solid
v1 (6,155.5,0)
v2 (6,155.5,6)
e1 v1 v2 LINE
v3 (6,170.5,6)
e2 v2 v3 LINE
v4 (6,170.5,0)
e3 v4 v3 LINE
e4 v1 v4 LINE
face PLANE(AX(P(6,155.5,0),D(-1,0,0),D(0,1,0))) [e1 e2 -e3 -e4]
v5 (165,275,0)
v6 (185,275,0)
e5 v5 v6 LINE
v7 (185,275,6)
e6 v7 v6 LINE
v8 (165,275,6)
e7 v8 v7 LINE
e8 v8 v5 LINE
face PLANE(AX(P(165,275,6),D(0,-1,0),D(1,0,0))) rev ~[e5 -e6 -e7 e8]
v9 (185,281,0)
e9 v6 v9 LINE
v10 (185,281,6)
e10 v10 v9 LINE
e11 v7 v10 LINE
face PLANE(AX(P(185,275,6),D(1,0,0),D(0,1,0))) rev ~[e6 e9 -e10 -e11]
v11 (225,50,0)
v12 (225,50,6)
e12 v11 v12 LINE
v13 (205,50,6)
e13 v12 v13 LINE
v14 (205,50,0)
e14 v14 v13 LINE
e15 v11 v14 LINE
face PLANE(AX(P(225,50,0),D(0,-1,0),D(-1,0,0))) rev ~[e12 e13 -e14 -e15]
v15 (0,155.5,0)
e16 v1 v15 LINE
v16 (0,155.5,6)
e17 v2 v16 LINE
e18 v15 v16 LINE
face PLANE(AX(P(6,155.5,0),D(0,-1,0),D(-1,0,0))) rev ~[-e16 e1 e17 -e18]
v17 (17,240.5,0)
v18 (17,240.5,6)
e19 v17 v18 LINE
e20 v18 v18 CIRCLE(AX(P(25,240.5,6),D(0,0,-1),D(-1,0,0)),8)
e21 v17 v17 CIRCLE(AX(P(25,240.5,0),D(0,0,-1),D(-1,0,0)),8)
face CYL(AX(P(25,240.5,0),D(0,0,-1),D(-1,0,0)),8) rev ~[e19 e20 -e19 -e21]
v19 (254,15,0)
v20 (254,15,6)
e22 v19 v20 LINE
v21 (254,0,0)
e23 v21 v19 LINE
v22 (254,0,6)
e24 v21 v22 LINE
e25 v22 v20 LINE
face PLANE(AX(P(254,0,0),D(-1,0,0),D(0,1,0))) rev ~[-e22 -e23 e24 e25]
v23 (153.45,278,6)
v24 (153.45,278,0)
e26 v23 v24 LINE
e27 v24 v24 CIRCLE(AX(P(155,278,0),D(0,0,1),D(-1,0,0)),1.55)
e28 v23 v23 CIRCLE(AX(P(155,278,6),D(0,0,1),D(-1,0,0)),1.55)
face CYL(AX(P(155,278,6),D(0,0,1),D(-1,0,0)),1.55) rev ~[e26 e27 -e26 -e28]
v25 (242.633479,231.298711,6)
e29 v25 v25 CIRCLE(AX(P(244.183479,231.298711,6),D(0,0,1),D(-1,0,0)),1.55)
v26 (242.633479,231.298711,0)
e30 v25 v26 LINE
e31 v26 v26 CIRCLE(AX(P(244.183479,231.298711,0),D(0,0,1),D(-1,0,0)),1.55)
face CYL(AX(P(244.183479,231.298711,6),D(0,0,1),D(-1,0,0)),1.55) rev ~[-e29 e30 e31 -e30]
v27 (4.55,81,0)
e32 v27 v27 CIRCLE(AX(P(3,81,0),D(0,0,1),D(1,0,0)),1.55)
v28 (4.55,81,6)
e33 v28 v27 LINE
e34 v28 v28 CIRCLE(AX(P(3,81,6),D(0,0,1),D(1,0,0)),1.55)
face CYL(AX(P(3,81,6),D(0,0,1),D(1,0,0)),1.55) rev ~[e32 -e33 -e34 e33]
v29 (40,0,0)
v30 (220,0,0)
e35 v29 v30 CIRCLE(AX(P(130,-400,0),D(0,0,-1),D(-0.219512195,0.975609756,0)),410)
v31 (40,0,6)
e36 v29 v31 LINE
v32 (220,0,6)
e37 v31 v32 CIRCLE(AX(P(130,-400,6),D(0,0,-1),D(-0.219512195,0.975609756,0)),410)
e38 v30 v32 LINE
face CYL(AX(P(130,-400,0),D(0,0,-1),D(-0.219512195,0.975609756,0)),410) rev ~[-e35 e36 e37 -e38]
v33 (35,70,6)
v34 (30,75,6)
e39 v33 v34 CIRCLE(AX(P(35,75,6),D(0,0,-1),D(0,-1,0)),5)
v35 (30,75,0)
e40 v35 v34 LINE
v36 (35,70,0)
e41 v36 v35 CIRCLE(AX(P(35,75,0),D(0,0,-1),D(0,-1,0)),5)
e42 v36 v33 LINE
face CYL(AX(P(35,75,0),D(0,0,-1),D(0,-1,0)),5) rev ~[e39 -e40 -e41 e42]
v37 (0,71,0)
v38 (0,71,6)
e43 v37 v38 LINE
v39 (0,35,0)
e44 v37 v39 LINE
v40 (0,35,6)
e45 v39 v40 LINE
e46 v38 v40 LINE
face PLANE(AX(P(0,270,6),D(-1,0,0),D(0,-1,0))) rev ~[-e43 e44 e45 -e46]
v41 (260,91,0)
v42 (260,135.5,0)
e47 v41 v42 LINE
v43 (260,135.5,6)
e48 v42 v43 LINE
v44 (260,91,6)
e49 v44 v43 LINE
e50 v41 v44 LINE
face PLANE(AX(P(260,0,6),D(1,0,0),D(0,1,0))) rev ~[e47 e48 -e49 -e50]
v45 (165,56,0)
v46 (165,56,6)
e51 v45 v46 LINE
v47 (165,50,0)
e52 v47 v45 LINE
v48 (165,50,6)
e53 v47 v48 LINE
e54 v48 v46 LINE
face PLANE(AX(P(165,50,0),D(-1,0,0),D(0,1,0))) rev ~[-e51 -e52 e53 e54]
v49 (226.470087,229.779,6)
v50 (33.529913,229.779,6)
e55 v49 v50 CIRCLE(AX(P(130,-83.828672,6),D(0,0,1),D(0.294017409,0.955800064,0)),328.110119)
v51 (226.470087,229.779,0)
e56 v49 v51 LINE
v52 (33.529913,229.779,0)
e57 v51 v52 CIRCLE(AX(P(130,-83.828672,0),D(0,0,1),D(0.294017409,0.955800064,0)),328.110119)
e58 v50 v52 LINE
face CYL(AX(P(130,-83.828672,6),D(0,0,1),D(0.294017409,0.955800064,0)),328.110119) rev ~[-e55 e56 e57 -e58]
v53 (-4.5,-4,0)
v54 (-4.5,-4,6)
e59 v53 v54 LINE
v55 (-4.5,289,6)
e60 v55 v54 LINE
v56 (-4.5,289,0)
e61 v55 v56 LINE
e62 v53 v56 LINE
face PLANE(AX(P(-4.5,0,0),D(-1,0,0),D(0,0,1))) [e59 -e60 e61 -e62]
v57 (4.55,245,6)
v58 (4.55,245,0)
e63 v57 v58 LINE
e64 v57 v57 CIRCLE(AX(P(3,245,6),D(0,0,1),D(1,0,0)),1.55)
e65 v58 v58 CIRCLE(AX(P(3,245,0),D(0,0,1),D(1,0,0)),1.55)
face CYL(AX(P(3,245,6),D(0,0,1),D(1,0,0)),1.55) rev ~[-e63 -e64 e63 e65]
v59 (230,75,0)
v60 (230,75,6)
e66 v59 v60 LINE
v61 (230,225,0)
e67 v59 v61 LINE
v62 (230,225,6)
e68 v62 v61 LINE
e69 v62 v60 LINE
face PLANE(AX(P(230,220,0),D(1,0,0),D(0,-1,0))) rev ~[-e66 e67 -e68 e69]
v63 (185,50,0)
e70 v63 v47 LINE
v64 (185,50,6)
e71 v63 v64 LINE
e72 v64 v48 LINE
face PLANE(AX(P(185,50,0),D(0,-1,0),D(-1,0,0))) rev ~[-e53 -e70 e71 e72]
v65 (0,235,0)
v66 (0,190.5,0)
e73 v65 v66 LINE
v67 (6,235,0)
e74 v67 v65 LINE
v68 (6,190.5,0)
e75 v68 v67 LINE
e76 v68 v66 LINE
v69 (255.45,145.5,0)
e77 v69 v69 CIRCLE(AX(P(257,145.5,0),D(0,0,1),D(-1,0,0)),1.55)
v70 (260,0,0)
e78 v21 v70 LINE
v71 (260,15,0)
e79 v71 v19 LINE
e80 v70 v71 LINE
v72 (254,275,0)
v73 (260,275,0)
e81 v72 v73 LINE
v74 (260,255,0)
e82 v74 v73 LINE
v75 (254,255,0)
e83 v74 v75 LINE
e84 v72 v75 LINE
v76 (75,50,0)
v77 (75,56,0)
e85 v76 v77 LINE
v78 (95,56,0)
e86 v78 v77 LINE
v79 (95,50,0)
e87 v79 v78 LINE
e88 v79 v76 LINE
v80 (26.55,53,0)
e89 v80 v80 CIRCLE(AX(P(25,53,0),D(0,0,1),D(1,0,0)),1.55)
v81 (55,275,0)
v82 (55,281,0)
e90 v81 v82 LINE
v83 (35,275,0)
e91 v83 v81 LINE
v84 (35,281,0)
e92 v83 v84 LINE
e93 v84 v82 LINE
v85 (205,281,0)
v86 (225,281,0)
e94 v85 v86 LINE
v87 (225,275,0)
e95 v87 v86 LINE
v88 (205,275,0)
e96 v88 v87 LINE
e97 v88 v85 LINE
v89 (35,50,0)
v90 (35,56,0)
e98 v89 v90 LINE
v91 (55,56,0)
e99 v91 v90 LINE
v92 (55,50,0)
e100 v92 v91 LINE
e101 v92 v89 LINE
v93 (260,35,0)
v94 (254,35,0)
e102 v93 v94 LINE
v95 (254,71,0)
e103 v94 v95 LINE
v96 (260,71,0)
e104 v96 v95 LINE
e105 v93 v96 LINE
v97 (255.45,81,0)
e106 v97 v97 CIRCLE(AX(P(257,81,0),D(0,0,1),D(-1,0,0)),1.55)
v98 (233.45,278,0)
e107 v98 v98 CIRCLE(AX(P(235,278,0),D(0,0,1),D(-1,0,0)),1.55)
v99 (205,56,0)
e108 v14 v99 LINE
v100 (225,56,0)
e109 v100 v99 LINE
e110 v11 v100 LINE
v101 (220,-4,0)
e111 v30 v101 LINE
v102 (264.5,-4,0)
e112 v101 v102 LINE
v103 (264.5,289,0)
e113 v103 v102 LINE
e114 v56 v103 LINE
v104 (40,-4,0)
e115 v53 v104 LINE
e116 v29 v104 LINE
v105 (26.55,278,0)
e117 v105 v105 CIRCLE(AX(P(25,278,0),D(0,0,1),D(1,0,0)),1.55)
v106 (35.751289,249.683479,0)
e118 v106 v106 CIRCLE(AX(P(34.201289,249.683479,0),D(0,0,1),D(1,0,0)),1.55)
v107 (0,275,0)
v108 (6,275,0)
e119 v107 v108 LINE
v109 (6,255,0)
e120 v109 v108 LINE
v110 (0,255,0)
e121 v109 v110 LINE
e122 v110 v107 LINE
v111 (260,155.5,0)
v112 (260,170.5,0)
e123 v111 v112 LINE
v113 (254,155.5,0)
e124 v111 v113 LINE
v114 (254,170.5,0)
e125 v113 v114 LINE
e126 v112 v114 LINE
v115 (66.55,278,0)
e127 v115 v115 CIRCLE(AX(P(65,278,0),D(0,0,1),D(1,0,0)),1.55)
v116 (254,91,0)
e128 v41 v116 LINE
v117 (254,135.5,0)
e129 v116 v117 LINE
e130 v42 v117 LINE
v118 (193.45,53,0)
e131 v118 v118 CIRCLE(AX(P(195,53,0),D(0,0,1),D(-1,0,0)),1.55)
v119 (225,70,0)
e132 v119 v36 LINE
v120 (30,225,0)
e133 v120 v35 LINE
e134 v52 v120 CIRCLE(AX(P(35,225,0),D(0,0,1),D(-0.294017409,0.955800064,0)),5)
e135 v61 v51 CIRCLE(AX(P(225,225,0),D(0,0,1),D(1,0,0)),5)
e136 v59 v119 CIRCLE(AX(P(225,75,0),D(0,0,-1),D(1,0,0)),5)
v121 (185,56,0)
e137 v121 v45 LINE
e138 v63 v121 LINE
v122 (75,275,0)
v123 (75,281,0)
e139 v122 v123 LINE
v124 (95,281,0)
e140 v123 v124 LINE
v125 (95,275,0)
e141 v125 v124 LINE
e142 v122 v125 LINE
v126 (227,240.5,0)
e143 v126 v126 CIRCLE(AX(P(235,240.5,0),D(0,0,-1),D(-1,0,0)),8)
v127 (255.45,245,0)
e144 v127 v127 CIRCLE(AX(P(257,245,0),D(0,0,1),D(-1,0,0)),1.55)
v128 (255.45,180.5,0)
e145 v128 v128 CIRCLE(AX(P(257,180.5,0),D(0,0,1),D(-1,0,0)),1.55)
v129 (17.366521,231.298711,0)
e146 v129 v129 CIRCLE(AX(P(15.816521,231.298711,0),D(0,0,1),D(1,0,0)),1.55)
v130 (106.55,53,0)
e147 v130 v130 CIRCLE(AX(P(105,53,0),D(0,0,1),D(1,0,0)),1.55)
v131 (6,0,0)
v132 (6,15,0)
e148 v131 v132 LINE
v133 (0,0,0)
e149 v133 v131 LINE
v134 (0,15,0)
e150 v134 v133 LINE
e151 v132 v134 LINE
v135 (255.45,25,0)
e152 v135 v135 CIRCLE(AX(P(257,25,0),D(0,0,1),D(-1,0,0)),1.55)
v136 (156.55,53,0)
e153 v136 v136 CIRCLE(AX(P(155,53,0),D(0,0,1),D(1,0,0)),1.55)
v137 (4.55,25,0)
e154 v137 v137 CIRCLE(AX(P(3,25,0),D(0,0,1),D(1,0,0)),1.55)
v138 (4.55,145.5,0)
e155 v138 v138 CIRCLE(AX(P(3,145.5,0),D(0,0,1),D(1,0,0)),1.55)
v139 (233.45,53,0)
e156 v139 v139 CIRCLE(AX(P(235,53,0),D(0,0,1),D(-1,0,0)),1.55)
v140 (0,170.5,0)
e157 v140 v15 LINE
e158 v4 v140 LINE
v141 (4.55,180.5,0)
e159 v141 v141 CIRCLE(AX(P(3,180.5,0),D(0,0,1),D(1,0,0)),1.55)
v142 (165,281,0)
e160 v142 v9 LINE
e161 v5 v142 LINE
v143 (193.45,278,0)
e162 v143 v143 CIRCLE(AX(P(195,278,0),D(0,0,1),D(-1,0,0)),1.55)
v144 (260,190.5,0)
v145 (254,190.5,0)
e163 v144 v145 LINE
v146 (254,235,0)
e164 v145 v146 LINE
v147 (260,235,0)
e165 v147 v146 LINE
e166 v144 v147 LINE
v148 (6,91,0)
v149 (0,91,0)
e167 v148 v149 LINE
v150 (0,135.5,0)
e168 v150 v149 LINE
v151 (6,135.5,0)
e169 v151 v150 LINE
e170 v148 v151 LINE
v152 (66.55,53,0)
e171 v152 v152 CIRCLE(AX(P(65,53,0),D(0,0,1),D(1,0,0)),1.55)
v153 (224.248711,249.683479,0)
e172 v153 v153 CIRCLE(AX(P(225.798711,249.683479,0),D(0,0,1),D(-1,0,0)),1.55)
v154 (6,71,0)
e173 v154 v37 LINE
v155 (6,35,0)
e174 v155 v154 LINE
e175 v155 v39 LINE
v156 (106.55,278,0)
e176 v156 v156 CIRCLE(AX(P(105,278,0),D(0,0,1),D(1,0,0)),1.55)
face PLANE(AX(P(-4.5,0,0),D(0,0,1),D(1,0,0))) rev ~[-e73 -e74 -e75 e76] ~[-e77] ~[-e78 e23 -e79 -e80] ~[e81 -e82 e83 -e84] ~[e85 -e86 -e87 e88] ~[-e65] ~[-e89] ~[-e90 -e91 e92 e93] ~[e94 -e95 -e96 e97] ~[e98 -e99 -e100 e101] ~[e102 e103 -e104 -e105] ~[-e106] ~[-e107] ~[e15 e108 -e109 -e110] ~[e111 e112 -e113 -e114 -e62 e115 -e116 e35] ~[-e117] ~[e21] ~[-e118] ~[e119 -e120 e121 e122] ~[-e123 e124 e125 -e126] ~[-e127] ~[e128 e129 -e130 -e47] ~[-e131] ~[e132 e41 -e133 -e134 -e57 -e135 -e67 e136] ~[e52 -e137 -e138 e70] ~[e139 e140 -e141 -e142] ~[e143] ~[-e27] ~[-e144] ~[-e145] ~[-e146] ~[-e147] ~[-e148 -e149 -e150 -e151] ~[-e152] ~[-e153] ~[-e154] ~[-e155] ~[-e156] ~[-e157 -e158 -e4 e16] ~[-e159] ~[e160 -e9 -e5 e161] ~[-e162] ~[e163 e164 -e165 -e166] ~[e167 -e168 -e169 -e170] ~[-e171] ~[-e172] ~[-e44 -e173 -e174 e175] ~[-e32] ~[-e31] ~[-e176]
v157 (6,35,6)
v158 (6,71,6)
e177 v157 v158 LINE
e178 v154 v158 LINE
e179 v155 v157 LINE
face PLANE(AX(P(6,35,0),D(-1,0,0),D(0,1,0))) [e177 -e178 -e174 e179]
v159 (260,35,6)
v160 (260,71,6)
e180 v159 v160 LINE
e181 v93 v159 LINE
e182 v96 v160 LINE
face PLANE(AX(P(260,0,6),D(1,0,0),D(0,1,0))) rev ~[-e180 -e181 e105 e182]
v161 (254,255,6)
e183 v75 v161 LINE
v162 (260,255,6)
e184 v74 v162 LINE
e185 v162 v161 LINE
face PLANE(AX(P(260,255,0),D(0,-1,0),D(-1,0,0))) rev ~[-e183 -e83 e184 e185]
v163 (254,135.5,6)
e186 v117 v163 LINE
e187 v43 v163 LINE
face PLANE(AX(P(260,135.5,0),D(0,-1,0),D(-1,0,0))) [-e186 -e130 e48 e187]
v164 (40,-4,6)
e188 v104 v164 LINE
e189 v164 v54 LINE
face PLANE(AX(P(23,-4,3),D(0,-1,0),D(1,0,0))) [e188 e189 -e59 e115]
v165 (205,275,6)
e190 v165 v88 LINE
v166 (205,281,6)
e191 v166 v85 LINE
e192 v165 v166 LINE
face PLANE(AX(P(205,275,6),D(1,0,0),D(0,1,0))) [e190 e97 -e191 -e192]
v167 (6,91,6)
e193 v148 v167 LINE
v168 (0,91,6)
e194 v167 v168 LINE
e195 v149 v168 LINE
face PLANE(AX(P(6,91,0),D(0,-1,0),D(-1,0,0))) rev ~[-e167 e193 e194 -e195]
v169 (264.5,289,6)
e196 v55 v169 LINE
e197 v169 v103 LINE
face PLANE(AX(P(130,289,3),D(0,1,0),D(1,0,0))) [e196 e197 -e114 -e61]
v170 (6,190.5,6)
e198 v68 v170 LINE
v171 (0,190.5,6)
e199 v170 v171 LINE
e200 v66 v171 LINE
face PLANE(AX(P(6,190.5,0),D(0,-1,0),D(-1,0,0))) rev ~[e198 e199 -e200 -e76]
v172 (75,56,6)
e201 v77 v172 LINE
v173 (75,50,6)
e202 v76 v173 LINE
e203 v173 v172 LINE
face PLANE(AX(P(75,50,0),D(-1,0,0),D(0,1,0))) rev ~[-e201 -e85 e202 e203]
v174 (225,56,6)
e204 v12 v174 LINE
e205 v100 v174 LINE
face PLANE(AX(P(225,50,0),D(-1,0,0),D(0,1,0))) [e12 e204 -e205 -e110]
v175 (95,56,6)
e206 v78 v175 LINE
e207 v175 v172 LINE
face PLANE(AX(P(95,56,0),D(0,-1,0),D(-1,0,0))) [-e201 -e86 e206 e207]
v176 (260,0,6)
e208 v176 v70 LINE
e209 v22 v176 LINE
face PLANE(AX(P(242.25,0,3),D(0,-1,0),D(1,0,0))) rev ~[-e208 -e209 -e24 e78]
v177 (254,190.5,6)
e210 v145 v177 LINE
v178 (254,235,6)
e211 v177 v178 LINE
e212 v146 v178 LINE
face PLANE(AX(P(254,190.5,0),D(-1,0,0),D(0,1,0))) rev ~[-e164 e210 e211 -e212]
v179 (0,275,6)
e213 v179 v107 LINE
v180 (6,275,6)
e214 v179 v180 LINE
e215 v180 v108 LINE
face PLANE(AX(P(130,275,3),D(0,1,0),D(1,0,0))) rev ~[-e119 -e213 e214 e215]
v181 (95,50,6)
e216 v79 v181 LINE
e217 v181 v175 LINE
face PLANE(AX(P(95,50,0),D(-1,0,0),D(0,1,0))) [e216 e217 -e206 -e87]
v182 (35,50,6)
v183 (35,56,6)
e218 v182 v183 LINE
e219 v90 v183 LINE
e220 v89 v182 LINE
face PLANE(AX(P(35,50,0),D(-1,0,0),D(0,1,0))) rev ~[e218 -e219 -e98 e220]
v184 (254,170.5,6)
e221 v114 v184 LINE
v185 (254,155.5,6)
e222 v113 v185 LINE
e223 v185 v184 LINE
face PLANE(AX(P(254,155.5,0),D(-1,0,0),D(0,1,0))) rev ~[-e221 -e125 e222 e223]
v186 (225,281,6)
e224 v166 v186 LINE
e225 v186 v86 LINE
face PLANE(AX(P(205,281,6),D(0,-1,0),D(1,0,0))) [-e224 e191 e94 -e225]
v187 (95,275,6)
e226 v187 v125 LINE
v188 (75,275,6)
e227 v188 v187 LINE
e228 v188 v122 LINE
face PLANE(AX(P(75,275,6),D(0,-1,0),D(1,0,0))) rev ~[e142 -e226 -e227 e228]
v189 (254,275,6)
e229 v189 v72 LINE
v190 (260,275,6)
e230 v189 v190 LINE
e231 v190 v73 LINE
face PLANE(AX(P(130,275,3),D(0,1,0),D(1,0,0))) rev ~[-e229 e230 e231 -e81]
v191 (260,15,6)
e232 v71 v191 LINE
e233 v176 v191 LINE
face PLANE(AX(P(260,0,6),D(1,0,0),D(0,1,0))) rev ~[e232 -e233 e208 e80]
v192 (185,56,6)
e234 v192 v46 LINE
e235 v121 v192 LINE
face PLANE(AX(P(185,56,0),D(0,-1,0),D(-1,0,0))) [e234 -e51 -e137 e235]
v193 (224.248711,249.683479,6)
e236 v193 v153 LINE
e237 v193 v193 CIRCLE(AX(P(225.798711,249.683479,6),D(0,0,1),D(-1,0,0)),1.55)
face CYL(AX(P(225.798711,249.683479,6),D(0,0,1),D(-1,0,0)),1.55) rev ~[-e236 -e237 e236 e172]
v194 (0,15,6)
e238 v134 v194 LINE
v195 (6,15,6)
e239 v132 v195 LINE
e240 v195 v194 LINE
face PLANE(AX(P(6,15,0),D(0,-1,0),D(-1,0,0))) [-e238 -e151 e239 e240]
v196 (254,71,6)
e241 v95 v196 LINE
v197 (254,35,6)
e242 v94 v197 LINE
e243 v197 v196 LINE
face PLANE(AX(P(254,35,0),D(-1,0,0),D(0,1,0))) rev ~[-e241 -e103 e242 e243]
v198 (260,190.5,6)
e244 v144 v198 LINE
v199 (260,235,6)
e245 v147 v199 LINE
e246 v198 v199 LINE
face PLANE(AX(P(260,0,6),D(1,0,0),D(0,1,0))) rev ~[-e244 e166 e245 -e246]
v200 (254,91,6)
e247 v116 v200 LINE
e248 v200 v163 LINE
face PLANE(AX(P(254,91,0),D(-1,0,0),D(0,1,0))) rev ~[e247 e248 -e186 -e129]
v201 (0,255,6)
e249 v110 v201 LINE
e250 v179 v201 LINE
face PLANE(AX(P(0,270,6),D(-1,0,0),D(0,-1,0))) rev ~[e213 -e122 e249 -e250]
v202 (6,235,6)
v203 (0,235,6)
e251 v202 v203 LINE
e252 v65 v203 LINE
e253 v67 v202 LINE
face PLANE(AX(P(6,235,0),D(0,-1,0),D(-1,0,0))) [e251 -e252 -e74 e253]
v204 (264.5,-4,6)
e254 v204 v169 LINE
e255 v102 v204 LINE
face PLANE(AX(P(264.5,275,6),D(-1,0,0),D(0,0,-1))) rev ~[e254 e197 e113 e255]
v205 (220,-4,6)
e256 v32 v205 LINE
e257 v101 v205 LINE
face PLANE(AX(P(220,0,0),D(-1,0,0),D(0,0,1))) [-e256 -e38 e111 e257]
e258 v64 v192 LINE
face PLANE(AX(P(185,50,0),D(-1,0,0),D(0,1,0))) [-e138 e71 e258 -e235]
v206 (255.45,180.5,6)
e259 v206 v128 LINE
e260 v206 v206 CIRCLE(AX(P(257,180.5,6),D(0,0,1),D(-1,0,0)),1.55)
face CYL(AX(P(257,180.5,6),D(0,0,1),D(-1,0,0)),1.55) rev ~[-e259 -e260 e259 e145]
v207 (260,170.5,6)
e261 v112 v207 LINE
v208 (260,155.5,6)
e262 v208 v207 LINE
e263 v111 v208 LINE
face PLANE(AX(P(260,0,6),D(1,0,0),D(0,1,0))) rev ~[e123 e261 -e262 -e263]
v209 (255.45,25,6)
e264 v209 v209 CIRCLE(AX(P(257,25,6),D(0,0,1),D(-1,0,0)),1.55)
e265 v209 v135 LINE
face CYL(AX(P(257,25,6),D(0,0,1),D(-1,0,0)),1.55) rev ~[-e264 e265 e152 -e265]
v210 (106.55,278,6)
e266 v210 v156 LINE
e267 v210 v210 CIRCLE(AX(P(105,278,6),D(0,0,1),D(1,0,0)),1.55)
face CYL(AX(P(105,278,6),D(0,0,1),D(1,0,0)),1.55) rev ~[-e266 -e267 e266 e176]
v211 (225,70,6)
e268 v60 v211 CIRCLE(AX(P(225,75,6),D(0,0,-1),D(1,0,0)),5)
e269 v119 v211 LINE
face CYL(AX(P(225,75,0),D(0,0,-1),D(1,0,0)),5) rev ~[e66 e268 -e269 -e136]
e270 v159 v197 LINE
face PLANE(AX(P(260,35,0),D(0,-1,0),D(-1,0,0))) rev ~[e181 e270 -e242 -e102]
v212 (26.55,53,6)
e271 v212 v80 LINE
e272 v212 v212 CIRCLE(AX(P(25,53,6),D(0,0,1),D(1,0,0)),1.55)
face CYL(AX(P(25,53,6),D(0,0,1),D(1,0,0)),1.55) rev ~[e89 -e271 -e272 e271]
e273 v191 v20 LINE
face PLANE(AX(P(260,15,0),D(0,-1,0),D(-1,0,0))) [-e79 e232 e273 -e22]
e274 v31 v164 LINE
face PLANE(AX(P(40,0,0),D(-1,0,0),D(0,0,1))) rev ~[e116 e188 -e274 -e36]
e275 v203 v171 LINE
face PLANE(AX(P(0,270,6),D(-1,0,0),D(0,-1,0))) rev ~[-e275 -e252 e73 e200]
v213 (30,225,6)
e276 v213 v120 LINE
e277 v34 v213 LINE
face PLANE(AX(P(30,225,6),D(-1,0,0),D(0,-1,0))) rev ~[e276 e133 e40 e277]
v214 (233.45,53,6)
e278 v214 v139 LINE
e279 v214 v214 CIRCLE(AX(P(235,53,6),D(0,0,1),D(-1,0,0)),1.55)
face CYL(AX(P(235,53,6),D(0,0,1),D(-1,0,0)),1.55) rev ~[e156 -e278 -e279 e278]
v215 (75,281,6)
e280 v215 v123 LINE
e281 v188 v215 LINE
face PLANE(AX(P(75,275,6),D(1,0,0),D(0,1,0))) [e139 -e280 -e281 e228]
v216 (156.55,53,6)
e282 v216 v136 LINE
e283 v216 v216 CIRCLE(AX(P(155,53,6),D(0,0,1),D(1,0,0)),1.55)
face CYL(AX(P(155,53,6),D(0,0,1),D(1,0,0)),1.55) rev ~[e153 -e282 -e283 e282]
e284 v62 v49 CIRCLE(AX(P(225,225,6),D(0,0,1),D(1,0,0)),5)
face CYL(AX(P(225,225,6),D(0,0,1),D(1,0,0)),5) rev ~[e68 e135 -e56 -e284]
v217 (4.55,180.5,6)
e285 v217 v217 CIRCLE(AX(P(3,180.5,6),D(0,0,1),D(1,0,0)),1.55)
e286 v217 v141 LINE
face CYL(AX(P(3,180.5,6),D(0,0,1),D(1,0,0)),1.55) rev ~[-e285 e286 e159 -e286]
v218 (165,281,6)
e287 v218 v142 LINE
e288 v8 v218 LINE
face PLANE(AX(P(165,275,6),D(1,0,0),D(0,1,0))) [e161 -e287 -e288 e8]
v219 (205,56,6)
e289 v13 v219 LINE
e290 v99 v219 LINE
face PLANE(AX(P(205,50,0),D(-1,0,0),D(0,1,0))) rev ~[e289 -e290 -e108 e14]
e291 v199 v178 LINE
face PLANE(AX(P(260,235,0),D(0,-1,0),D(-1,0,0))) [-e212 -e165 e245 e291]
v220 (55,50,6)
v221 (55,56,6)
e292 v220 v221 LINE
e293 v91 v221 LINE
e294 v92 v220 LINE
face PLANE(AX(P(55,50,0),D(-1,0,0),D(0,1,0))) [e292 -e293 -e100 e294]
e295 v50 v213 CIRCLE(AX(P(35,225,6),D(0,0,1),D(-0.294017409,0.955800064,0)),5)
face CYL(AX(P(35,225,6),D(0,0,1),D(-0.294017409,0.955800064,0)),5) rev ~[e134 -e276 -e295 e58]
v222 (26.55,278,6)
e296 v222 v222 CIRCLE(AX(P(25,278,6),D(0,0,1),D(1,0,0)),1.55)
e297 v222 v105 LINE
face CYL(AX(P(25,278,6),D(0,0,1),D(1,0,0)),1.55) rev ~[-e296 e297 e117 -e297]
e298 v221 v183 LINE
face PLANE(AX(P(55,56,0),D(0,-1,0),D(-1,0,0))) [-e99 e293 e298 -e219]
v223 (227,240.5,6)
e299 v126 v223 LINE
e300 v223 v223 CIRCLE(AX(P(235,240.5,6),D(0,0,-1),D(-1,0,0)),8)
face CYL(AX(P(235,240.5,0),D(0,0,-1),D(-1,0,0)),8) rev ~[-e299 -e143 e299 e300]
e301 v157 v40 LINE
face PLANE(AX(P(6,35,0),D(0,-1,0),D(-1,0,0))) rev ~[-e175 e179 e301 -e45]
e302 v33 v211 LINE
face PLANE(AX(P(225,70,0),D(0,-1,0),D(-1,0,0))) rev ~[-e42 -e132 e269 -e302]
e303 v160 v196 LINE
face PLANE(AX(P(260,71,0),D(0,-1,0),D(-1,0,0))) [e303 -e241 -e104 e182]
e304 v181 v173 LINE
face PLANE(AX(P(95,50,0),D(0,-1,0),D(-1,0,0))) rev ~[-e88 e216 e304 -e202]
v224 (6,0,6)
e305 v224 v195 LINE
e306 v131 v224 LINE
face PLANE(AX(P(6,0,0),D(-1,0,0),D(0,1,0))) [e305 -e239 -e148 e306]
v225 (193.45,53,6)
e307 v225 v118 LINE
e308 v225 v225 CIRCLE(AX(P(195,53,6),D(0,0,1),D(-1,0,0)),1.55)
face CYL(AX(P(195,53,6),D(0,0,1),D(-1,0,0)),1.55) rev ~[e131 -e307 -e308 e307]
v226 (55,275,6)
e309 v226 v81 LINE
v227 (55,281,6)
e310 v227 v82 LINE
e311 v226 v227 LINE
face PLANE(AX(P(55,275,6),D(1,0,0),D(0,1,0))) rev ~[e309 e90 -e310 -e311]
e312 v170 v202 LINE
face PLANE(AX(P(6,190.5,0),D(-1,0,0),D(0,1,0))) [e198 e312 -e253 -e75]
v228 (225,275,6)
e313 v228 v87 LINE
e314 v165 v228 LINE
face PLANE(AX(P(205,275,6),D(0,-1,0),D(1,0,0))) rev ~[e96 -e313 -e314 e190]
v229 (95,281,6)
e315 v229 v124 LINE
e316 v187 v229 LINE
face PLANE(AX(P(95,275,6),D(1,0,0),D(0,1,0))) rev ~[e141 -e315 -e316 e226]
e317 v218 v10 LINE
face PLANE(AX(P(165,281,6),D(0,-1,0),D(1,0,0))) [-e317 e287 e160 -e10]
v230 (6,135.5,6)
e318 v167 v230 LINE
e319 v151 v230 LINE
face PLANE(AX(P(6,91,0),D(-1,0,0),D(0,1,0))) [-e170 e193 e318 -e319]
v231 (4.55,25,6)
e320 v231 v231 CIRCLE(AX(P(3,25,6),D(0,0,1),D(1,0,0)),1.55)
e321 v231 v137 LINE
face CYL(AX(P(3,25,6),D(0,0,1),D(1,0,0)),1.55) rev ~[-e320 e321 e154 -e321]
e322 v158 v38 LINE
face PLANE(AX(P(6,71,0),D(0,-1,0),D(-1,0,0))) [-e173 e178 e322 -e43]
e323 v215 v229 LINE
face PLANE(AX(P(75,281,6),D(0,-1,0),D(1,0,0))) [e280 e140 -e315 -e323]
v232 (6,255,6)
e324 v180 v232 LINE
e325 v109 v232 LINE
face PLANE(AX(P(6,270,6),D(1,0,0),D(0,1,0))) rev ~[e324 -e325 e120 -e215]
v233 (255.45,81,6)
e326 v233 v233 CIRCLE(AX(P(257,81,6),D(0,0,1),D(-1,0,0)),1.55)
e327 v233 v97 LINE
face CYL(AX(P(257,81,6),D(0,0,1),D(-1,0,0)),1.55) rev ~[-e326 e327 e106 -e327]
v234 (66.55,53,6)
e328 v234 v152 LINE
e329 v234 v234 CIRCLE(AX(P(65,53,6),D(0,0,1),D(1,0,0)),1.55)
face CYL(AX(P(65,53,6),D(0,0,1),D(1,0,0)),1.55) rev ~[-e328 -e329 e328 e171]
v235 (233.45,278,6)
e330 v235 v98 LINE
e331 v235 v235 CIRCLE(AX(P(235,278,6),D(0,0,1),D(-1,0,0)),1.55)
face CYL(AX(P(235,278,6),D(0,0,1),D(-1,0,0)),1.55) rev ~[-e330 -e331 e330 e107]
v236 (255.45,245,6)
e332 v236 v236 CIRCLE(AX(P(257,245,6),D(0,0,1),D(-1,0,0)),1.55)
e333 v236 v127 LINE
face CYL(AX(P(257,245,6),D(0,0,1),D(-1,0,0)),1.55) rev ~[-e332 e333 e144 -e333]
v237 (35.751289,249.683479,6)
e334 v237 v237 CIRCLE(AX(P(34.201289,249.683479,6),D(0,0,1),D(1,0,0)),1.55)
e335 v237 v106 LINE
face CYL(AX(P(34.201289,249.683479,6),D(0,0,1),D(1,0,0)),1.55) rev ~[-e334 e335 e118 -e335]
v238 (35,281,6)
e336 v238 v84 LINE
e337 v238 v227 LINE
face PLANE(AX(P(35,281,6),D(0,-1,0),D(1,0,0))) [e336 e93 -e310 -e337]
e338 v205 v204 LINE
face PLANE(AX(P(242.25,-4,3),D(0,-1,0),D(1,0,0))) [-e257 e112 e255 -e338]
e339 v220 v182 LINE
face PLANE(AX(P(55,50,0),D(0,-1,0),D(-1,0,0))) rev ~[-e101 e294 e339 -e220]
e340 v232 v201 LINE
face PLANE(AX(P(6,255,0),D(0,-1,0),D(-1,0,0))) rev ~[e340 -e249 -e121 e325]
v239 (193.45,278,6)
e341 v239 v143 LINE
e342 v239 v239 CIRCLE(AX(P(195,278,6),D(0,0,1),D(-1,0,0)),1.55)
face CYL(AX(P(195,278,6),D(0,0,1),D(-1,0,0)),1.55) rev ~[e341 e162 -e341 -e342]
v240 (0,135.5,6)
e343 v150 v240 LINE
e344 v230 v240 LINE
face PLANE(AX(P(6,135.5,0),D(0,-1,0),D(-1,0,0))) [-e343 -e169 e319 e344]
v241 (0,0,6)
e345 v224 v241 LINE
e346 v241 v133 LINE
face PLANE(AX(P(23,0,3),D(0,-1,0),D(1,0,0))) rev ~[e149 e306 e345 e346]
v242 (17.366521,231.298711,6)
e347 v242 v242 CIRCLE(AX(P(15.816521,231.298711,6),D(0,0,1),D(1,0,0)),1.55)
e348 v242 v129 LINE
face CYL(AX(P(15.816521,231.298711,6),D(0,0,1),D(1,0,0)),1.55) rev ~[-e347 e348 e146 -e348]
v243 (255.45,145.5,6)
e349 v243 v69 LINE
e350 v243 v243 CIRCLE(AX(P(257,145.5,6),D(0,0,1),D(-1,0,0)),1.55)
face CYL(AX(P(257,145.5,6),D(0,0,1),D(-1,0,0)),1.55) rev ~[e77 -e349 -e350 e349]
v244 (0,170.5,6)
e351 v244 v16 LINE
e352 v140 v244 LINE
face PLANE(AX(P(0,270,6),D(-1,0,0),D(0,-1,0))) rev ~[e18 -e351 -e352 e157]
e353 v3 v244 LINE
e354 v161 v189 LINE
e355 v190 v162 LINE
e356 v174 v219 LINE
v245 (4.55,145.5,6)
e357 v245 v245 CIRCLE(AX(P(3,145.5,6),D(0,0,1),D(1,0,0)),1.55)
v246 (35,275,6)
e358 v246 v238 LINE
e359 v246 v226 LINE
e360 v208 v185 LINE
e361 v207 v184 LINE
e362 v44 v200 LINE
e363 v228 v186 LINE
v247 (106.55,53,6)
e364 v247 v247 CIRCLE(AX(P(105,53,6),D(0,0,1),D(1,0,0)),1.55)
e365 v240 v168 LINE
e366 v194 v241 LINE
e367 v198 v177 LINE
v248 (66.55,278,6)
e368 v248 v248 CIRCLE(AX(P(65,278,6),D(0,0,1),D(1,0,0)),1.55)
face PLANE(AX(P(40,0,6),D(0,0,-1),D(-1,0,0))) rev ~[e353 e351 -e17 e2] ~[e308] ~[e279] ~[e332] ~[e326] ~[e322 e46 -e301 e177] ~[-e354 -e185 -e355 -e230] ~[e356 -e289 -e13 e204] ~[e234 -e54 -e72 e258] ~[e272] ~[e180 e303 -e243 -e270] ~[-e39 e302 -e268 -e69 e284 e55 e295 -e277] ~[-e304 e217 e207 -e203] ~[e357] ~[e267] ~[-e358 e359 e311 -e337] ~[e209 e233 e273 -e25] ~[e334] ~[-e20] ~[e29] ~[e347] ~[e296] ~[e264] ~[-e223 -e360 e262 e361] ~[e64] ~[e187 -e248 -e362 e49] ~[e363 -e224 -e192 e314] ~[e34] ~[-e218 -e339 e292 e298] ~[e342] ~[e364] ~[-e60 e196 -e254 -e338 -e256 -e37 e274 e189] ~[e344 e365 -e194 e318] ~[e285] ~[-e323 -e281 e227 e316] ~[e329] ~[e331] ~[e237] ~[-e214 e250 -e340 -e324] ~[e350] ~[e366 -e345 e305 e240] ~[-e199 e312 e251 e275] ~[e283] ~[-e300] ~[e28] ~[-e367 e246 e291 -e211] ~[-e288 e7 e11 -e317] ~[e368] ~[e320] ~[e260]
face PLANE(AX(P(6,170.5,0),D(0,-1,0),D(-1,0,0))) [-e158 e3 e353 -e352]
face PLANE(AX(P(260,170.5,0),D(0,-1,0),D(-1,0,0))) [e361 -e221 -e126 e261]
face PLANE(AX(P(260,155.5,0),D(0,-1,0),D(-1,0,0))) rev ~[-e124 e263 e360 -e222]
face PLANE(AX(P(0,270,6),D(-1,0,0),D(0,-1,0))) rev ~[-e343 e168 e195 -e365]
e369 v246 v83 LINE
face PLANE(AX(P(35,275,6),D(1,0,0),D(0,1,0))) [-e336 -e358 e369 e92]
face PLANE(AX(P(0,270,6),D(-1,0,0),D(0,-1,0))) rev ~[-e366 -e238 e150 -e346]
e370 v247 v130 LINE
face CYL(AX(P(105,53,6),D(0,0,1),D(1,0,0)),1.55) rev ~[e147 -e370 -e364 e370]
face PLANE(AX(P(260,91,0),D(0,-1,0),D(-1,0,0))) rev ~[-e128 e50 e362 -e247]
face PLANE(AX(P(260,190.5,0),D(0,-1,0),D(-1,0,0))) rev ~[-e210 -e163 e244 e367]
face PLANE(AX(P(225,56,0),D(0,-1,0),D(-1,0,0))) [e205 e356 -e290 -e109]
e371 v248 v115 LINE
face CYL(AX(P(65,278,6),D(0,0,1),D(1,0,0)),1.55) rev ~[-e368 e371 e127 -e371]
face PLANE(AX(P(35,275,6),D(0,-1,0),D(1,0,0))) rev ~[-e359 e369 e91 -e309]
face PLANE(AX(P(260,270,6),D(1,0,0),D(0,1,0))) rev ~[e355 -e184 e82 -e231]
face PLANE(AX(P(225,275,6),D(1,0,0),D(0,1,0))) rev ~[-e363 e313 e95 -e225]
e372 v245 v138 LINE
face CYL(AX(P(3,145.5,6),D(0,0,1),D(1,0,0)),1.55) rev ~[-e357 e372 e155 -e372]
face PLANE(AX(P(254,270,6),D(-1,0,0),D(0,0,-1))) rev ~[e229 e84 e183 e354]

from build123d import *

# Parameters (mm, degrees)
SKETCH1_W           = 260
SKETCH1_H           = 270
BOSS_EXTRUDE1_DEPTH = 6
SKETCH2_W           = 20
SKETCH2_H           = 6
CUT_EXTRUDE1_DEPTH  = 6
CUT_EXTRUDE2_DEPTH  = 10
SKETCH4_W           = 6
SKETCH4_H           = 44.5
SKETCH4_H_2         = 15
SKETCH4_H_3         = 36
CUT_EXTRUDE3_DEPTH  = 6
SKETCH5_R           = 8
CUT_EXTRUDE4_DEPTH  = 10
SKETCH6_R           = 1.55
CUT_EXTRUDE5_DEPTH  = 6
CUT_EXTRUDE7_DEPTH  = 10
SKETCH8_W           = 248
SKETCH8_H           = 6
BOSS_EXTRUDE2_DEPTH = 5
BOSS_EXTRUDE3_DEPTH = 6
SKETCH10_W          = 6
SKETCH10_H          = 5
CUT_EXTRUDE8_DEPTH  = 6
SKETCH11_R          = 1.55
CUT_EXTRUDE9_DEPTH  = 6
SKETCH12_R          = 1.55
CUT_EXTRUDE10_DEPTH = 10
SKETCH13_W          = 269
SKETCH13_H          = 6
BOSS_EXTRUDE4_DEPTH = 14
SKETCH14_W          = 34
SKETCH14_H          = 6
SKETCH14_W_2        = 10.5
SKETCH14_W_3        = 44.5
BOSS_EXTRUDE5_DEPTH = 4
SKETCH15_R          = 1.55
SKETCH15_W          = 20
SKETCH15_H          = 6
CUT_EXTRUDE11_DEPTH = 10


with BuildPart() as part:
    # Sketch1 → Boss-Extrude1 (new body)
    with BuildSketch(Plane.XY):
        with Locations((130, 135)):
            Rectangle(SKETCH1_W, SKETCH1_H)
    extrude(amount=BOSS_EXTRUDE1_DEPTH)

    # Sketch2 → Cut-Extrude1 (cut)
    with BuildSketch(Plane(origin=(0, 0, 0), x_dir=(-1, 0, 0), z_dir=(0, 0, -1))):
        with Locations((-215, 53)):
            Rectangle(SKETCH2_W, SKETCH2_H)
        with Locations((-175, 53)):
            Rectangle(SKETCH2_W, SKETCH2_H)
        with BuildLine():
            Line((-220, 0), (-40, 0))
            ThreePointArc((-40, 0), (-130, 10), (-220, 0))
        make_face()
        with Locations((-85, 53)):
            Rectangle(SKETCH2_W, SKETCH2_H)
        with Locations((-45, 53)):
            Rectangle(SKETCH2_W, SKETCH2_H)
    extrude(amount=-CUT_EXTRUDE1_DEPTH, mode=Mode.SUBTRACT)

    # Sketch3 → Cut-Extrude2 (cut)
    with BuildSketch(Plane(origin=(0, 0, 0), x_dir=(-1, 0, 0), z_dir=(0, 0, -1))):
        with BuildLine():
            Line((-225, 70), (-35, 70))
            ThreePointArc((-35, 70), (-31.464466094, 71.464466094), (-30, 75))
            Line((-30, 75), (-30, 220))
            ThreePointArc((-30, 220), (-31.464466094, 223.535533906), (-35, 225))
            Line((-35, 225), (-225, 225))
            ThreePointArc((-225, 225), (-228.535533906, 223.535533906), (-230, 220))
            Line((-230, 220), (-230, 75))
            ThreePointArc((-230, 75), (-228.535533906, 71.464466094), (-225, 70))
        make_face()
    extrude(amount=-CUT_EXTRUDE2_DEPTH, mode=Mode.SUBTRACT)

    # Sketch4 → Cut-Extrude3 (cut)
    with BuildSketch(Plane(origin=(0, 0, 0), x_dir=(-1, 0, 0), z_dir=(0, 0, -1))):
        Polygon((-254, 270), (-260, 270), (-260, 264), (-260, 255), (-254, 255), (-254, 264), align=None)
        with Locations((-257, 212.75)):
            Rectangle(SKETCH4_W, SKETCH4_H)
        with Locations((-257, 163)):
            Rectangle(SKETCH4_W, SKETCH4_H_2)
        with Locations((-257, 113.25)):
            Rectangle(SKETCH4_W, SKETCH4_H)
        with Locations((-257, 53)):
            Rectangle(SKETCH4_W, SKETCH4_H_3)
        with Locations((-257, 7.5)):
            Rectangle(SKETCH4_W, SKETCH4_H_2)
        with Locations((-3, 7.5)):
            Rectangle(SKETCH4_W, SKETCH4_H_2)
        with Locations((-3, 53)):
            Rectangle(SKETCH4_W, SKETCH4_H_3)
        with Locations((-3, 113.25)):
            Rectangle(SKETCH4_W, SKETCH4_H)
        with Locations((-3, 212.75)):
            Rectangle(SKETCH4_W, SKETCH4_H)
        with Locations((-3, 262.5)):
            Rectangle(SKETCH4_W, SKETCH4_H_2)
        with Locations((-3, 163)):
            Rectangle(SKETCH4_W, SKETCH4_H_2)
    extrude(amount=-CUT_EXTRUDE3_DEPTH, mode=Mode.SUBTRACT)

    # Sketch5 → Cut-Extrude4 (cut)
    with BuildSketch(Plane(origin=(0, 0, 0), x_dir=(-1, 0, 0), z_dir=(0, 0, -1))):
        with Locations((-235, 240.5)):
            Circle(SKETCH5_R)
        with Locations((-25, 240.5)):
            Circle(SKETCH5_R)
    extrude(amount=-CUT_EXTRUDE4_DEPTH, mode=Mode.SUBTRACT)

    # Sketch6 → Cut-Extrude5 (cut)
    with BuildSketch(Plane.XY.offset(6)):
        with Locations((34.20128912, 249.683478563)):
            Circle(SKETCH6_R)
        with Locations((15.816521437, 231.29871088)):
            Circle(SKETCH6_R)
        with Locations(Location((225.79871088, 249.683478563, 0), (0, 0, 180))):
            Circle(SKETCH6_R)
        with Locations(Location((244.183478563, 231.29871088, 0), (0, 0, 180))):
            Circle(SKETCH6_R)
    extrude(amount=-CUT_EXTRUDE5_DEPTH, mode=Mode.SUBTRACT)

    # Sketch7 → Cut-Extrude7 (cut)
    with BuildSketch(Plane.XY.offset(6)):
        with BuildLine():
            Line((30, 225), (30, 202.90481405))
            Line((30, 202.90481405), (230, 202.90481405))
            Line((230, 202.90481405), (230, 225))
            ThreePointArc((230, 225), (229.021842565, 227.970653528), (226.470087046, 229.779000322))
            ThreePointArc((226.470087046, 229.779000322), (130, 244.281446445), (33.529912954, 229.779000322))
            ThreePointArc((33.529912954, 229.779000322), (30.978157435, 227.970653528), (30, 225))
        make_face()
    extrude(amount=-CUT_EXTRUDE7_DEPTH, mode=Mode.SUBTRACT)

    # Sketch8 → Boss-Extrude2 (add)
    with BuildSketch(Plane(origin=(0, 270, 0), x_dir=(1, 0, 0), z_dir=(0, 1, 0))):
        with Locations((130, -3)):
            Rectangle(SKETCH8_W, SKETCH8_H)
    extrude(amount=BOSS_EXTRUDE2_DEPTH)

    # Sketch9 → Boss-Extrude3 (add)
    with BuildSketch(Plane.XY.offset(6)):
        Polygon((0, 270), (0, 0), (-4.5, 0), (-4.5, 275), (6, 275), (6, 270), align=None)
        Polygon((264.5, 275), (264.5, 0), (260, 0), (260, 270), (254, 270), (254, 275), align=None)
    extrude(amount=-BOSS_EXTRUDE3_DEPTH)

    # Sketch10 → Cut-Extrude8 (cut)
    with BuildSketch(Plane.XY.offset(6)):
        with Locations((3, 272.5)):
            Rectangle(SKETCH10_W, SKETCH10_H)
        with Locations((257, 272.5)):
            Rectangle(SKETCH10_W, SKETCH10_H)
    extrude(amount=-CUT_EXTRUDE8_DEPTH, mode=Mode.SUBTRACT)

    # Sketch11 → Cut-Extrude9 (cut)
    with BuildSketch(Plane.XY.offset(6)):
        with Locations((3, 245)):
            Circle(SKETCH11_R)
        with Locations((3, 180.5)):
            Circle(SKETCH11_R)
        with Locations((3, 145.5)):
            Circle(SKETCH11_R)
        with Locations((3, 81)):
            Circle(SKETCH11_R)
        with Locations((3, 25)):
            Circle(SKETCH11_R)
        with Locations(Location((257, 25, 0), (0, 0, 180))):
            Circle(SKETCH11_R)
        with Locations(Location((257, 81, 0), (0, 0, 180))):
            Circle(SKETCH11_R)
        with Locations(Location((257, 145.5, 0), (0, 0, 180))):
            Circle(SKETCH11_R)
        with Locations(Location((257, 180.5, 0), (0, 0, 180))):
            Circle(SKETCH11_R)
        with Locations(Location((257, 245, 0), (0, 0, 180))):
            Circle(SKETCH11_R)
    extrude(amount=-CUT_EXTRUDE9_DEPTH, mode=Mode.SUBTRACT)

    # Sketch12 → Cut-Extrude10 (cut)
    with BuildSketch(Plane.XY.offset(6)):
        with Locations((25, 53)):
            Circle(SKETCH12_R)
        with Locations((65, 53)):
            Circle(SKETCH12_R)
        with Locations((155, 53)):
            Circle(SKETCH12_R)
        with Locations(Location((195, 53, 0), (0, 0, 180))):
            Circle(SKETCH12_R)
        with Locations(Location((235, 53, 0), (0, 0, 180))):
            Circle(SKETCH12_R)
        with Locations((105, 53)):
            Circle(SKETCH12_R)
    extrude(amount=-CUT_EXTRUDE10_DEPTH, mode=Mode.SUBTRACT)

    # Sketch13 → Boss-Extrude4 (add)
    with BuildSketch(Plane(origin=(0, 275, 0), x_dir=(1, 0, 0), z_dir=(0, 1, 0))):
        with Locations((130, -3)):
            Rectangle(SKETCH13_W, SKETCH13_H)
    extrude(amount=BOSS_EXTRUDE4_DEPTH)

    # Sketch14 → Boss-Extrude5 (add)
    with BuildSketch(Plane.XZ):
        with Locations((23, 3)):
            Rectangle(SKETCH14_W, SKETCH14_H)
        with Locations((0.75, 3)):
            Rectangle(SKETCH14_W_2, SKETCH14_H)
        with Locations((242.25, 3)):
            Rectangle(SKETCH14_W_3, SKETCH14_H)
    extrude(amount=BOSS_EXTRUDE5_DEPTH)

    # Sketch15 → Cut-Extrude11 (cut)
    with BuildSketch(Plane.XY.offset(6)):
        with Locations((25, 278)):
            Circle(SKETCH15_R)
        with Locations((105, 278)):
            Circle(SKETCH15_R)
        with Locations((65, 278)):
            Circle(SKETCH15_R)
        with Locations(Location((195, 278, 0), (0, 0, 180))):
            Circle(SKETCH15_R)
        with Locations(Location((155, 278, 0), (0, 0, 180))):
            Circle(SKETCH15_R)
        with Locations(Location((235, 278, 0), (0, 0, 180))):
            Circle(SKETCH15_R)
        with Locations((45, 278)):
            Rectangle(SKETCH15_W, SKETCH15_H)
        with Locations((85, 278)):
            Rectangle(SKETCH15_W, SKETCH15_H)
        with Locations((175, 278)):
            Rectangle(SKETCH15_W, SKETCH15_H)
        with Locations((215, 278)):
            Rectangle(SKETCH15_W, SKETCH15_H)
    extrude(amount=-CUT_EXTRUDE11_DEPTH, mode=Mode.SUBTRACT)


solid = part.part
